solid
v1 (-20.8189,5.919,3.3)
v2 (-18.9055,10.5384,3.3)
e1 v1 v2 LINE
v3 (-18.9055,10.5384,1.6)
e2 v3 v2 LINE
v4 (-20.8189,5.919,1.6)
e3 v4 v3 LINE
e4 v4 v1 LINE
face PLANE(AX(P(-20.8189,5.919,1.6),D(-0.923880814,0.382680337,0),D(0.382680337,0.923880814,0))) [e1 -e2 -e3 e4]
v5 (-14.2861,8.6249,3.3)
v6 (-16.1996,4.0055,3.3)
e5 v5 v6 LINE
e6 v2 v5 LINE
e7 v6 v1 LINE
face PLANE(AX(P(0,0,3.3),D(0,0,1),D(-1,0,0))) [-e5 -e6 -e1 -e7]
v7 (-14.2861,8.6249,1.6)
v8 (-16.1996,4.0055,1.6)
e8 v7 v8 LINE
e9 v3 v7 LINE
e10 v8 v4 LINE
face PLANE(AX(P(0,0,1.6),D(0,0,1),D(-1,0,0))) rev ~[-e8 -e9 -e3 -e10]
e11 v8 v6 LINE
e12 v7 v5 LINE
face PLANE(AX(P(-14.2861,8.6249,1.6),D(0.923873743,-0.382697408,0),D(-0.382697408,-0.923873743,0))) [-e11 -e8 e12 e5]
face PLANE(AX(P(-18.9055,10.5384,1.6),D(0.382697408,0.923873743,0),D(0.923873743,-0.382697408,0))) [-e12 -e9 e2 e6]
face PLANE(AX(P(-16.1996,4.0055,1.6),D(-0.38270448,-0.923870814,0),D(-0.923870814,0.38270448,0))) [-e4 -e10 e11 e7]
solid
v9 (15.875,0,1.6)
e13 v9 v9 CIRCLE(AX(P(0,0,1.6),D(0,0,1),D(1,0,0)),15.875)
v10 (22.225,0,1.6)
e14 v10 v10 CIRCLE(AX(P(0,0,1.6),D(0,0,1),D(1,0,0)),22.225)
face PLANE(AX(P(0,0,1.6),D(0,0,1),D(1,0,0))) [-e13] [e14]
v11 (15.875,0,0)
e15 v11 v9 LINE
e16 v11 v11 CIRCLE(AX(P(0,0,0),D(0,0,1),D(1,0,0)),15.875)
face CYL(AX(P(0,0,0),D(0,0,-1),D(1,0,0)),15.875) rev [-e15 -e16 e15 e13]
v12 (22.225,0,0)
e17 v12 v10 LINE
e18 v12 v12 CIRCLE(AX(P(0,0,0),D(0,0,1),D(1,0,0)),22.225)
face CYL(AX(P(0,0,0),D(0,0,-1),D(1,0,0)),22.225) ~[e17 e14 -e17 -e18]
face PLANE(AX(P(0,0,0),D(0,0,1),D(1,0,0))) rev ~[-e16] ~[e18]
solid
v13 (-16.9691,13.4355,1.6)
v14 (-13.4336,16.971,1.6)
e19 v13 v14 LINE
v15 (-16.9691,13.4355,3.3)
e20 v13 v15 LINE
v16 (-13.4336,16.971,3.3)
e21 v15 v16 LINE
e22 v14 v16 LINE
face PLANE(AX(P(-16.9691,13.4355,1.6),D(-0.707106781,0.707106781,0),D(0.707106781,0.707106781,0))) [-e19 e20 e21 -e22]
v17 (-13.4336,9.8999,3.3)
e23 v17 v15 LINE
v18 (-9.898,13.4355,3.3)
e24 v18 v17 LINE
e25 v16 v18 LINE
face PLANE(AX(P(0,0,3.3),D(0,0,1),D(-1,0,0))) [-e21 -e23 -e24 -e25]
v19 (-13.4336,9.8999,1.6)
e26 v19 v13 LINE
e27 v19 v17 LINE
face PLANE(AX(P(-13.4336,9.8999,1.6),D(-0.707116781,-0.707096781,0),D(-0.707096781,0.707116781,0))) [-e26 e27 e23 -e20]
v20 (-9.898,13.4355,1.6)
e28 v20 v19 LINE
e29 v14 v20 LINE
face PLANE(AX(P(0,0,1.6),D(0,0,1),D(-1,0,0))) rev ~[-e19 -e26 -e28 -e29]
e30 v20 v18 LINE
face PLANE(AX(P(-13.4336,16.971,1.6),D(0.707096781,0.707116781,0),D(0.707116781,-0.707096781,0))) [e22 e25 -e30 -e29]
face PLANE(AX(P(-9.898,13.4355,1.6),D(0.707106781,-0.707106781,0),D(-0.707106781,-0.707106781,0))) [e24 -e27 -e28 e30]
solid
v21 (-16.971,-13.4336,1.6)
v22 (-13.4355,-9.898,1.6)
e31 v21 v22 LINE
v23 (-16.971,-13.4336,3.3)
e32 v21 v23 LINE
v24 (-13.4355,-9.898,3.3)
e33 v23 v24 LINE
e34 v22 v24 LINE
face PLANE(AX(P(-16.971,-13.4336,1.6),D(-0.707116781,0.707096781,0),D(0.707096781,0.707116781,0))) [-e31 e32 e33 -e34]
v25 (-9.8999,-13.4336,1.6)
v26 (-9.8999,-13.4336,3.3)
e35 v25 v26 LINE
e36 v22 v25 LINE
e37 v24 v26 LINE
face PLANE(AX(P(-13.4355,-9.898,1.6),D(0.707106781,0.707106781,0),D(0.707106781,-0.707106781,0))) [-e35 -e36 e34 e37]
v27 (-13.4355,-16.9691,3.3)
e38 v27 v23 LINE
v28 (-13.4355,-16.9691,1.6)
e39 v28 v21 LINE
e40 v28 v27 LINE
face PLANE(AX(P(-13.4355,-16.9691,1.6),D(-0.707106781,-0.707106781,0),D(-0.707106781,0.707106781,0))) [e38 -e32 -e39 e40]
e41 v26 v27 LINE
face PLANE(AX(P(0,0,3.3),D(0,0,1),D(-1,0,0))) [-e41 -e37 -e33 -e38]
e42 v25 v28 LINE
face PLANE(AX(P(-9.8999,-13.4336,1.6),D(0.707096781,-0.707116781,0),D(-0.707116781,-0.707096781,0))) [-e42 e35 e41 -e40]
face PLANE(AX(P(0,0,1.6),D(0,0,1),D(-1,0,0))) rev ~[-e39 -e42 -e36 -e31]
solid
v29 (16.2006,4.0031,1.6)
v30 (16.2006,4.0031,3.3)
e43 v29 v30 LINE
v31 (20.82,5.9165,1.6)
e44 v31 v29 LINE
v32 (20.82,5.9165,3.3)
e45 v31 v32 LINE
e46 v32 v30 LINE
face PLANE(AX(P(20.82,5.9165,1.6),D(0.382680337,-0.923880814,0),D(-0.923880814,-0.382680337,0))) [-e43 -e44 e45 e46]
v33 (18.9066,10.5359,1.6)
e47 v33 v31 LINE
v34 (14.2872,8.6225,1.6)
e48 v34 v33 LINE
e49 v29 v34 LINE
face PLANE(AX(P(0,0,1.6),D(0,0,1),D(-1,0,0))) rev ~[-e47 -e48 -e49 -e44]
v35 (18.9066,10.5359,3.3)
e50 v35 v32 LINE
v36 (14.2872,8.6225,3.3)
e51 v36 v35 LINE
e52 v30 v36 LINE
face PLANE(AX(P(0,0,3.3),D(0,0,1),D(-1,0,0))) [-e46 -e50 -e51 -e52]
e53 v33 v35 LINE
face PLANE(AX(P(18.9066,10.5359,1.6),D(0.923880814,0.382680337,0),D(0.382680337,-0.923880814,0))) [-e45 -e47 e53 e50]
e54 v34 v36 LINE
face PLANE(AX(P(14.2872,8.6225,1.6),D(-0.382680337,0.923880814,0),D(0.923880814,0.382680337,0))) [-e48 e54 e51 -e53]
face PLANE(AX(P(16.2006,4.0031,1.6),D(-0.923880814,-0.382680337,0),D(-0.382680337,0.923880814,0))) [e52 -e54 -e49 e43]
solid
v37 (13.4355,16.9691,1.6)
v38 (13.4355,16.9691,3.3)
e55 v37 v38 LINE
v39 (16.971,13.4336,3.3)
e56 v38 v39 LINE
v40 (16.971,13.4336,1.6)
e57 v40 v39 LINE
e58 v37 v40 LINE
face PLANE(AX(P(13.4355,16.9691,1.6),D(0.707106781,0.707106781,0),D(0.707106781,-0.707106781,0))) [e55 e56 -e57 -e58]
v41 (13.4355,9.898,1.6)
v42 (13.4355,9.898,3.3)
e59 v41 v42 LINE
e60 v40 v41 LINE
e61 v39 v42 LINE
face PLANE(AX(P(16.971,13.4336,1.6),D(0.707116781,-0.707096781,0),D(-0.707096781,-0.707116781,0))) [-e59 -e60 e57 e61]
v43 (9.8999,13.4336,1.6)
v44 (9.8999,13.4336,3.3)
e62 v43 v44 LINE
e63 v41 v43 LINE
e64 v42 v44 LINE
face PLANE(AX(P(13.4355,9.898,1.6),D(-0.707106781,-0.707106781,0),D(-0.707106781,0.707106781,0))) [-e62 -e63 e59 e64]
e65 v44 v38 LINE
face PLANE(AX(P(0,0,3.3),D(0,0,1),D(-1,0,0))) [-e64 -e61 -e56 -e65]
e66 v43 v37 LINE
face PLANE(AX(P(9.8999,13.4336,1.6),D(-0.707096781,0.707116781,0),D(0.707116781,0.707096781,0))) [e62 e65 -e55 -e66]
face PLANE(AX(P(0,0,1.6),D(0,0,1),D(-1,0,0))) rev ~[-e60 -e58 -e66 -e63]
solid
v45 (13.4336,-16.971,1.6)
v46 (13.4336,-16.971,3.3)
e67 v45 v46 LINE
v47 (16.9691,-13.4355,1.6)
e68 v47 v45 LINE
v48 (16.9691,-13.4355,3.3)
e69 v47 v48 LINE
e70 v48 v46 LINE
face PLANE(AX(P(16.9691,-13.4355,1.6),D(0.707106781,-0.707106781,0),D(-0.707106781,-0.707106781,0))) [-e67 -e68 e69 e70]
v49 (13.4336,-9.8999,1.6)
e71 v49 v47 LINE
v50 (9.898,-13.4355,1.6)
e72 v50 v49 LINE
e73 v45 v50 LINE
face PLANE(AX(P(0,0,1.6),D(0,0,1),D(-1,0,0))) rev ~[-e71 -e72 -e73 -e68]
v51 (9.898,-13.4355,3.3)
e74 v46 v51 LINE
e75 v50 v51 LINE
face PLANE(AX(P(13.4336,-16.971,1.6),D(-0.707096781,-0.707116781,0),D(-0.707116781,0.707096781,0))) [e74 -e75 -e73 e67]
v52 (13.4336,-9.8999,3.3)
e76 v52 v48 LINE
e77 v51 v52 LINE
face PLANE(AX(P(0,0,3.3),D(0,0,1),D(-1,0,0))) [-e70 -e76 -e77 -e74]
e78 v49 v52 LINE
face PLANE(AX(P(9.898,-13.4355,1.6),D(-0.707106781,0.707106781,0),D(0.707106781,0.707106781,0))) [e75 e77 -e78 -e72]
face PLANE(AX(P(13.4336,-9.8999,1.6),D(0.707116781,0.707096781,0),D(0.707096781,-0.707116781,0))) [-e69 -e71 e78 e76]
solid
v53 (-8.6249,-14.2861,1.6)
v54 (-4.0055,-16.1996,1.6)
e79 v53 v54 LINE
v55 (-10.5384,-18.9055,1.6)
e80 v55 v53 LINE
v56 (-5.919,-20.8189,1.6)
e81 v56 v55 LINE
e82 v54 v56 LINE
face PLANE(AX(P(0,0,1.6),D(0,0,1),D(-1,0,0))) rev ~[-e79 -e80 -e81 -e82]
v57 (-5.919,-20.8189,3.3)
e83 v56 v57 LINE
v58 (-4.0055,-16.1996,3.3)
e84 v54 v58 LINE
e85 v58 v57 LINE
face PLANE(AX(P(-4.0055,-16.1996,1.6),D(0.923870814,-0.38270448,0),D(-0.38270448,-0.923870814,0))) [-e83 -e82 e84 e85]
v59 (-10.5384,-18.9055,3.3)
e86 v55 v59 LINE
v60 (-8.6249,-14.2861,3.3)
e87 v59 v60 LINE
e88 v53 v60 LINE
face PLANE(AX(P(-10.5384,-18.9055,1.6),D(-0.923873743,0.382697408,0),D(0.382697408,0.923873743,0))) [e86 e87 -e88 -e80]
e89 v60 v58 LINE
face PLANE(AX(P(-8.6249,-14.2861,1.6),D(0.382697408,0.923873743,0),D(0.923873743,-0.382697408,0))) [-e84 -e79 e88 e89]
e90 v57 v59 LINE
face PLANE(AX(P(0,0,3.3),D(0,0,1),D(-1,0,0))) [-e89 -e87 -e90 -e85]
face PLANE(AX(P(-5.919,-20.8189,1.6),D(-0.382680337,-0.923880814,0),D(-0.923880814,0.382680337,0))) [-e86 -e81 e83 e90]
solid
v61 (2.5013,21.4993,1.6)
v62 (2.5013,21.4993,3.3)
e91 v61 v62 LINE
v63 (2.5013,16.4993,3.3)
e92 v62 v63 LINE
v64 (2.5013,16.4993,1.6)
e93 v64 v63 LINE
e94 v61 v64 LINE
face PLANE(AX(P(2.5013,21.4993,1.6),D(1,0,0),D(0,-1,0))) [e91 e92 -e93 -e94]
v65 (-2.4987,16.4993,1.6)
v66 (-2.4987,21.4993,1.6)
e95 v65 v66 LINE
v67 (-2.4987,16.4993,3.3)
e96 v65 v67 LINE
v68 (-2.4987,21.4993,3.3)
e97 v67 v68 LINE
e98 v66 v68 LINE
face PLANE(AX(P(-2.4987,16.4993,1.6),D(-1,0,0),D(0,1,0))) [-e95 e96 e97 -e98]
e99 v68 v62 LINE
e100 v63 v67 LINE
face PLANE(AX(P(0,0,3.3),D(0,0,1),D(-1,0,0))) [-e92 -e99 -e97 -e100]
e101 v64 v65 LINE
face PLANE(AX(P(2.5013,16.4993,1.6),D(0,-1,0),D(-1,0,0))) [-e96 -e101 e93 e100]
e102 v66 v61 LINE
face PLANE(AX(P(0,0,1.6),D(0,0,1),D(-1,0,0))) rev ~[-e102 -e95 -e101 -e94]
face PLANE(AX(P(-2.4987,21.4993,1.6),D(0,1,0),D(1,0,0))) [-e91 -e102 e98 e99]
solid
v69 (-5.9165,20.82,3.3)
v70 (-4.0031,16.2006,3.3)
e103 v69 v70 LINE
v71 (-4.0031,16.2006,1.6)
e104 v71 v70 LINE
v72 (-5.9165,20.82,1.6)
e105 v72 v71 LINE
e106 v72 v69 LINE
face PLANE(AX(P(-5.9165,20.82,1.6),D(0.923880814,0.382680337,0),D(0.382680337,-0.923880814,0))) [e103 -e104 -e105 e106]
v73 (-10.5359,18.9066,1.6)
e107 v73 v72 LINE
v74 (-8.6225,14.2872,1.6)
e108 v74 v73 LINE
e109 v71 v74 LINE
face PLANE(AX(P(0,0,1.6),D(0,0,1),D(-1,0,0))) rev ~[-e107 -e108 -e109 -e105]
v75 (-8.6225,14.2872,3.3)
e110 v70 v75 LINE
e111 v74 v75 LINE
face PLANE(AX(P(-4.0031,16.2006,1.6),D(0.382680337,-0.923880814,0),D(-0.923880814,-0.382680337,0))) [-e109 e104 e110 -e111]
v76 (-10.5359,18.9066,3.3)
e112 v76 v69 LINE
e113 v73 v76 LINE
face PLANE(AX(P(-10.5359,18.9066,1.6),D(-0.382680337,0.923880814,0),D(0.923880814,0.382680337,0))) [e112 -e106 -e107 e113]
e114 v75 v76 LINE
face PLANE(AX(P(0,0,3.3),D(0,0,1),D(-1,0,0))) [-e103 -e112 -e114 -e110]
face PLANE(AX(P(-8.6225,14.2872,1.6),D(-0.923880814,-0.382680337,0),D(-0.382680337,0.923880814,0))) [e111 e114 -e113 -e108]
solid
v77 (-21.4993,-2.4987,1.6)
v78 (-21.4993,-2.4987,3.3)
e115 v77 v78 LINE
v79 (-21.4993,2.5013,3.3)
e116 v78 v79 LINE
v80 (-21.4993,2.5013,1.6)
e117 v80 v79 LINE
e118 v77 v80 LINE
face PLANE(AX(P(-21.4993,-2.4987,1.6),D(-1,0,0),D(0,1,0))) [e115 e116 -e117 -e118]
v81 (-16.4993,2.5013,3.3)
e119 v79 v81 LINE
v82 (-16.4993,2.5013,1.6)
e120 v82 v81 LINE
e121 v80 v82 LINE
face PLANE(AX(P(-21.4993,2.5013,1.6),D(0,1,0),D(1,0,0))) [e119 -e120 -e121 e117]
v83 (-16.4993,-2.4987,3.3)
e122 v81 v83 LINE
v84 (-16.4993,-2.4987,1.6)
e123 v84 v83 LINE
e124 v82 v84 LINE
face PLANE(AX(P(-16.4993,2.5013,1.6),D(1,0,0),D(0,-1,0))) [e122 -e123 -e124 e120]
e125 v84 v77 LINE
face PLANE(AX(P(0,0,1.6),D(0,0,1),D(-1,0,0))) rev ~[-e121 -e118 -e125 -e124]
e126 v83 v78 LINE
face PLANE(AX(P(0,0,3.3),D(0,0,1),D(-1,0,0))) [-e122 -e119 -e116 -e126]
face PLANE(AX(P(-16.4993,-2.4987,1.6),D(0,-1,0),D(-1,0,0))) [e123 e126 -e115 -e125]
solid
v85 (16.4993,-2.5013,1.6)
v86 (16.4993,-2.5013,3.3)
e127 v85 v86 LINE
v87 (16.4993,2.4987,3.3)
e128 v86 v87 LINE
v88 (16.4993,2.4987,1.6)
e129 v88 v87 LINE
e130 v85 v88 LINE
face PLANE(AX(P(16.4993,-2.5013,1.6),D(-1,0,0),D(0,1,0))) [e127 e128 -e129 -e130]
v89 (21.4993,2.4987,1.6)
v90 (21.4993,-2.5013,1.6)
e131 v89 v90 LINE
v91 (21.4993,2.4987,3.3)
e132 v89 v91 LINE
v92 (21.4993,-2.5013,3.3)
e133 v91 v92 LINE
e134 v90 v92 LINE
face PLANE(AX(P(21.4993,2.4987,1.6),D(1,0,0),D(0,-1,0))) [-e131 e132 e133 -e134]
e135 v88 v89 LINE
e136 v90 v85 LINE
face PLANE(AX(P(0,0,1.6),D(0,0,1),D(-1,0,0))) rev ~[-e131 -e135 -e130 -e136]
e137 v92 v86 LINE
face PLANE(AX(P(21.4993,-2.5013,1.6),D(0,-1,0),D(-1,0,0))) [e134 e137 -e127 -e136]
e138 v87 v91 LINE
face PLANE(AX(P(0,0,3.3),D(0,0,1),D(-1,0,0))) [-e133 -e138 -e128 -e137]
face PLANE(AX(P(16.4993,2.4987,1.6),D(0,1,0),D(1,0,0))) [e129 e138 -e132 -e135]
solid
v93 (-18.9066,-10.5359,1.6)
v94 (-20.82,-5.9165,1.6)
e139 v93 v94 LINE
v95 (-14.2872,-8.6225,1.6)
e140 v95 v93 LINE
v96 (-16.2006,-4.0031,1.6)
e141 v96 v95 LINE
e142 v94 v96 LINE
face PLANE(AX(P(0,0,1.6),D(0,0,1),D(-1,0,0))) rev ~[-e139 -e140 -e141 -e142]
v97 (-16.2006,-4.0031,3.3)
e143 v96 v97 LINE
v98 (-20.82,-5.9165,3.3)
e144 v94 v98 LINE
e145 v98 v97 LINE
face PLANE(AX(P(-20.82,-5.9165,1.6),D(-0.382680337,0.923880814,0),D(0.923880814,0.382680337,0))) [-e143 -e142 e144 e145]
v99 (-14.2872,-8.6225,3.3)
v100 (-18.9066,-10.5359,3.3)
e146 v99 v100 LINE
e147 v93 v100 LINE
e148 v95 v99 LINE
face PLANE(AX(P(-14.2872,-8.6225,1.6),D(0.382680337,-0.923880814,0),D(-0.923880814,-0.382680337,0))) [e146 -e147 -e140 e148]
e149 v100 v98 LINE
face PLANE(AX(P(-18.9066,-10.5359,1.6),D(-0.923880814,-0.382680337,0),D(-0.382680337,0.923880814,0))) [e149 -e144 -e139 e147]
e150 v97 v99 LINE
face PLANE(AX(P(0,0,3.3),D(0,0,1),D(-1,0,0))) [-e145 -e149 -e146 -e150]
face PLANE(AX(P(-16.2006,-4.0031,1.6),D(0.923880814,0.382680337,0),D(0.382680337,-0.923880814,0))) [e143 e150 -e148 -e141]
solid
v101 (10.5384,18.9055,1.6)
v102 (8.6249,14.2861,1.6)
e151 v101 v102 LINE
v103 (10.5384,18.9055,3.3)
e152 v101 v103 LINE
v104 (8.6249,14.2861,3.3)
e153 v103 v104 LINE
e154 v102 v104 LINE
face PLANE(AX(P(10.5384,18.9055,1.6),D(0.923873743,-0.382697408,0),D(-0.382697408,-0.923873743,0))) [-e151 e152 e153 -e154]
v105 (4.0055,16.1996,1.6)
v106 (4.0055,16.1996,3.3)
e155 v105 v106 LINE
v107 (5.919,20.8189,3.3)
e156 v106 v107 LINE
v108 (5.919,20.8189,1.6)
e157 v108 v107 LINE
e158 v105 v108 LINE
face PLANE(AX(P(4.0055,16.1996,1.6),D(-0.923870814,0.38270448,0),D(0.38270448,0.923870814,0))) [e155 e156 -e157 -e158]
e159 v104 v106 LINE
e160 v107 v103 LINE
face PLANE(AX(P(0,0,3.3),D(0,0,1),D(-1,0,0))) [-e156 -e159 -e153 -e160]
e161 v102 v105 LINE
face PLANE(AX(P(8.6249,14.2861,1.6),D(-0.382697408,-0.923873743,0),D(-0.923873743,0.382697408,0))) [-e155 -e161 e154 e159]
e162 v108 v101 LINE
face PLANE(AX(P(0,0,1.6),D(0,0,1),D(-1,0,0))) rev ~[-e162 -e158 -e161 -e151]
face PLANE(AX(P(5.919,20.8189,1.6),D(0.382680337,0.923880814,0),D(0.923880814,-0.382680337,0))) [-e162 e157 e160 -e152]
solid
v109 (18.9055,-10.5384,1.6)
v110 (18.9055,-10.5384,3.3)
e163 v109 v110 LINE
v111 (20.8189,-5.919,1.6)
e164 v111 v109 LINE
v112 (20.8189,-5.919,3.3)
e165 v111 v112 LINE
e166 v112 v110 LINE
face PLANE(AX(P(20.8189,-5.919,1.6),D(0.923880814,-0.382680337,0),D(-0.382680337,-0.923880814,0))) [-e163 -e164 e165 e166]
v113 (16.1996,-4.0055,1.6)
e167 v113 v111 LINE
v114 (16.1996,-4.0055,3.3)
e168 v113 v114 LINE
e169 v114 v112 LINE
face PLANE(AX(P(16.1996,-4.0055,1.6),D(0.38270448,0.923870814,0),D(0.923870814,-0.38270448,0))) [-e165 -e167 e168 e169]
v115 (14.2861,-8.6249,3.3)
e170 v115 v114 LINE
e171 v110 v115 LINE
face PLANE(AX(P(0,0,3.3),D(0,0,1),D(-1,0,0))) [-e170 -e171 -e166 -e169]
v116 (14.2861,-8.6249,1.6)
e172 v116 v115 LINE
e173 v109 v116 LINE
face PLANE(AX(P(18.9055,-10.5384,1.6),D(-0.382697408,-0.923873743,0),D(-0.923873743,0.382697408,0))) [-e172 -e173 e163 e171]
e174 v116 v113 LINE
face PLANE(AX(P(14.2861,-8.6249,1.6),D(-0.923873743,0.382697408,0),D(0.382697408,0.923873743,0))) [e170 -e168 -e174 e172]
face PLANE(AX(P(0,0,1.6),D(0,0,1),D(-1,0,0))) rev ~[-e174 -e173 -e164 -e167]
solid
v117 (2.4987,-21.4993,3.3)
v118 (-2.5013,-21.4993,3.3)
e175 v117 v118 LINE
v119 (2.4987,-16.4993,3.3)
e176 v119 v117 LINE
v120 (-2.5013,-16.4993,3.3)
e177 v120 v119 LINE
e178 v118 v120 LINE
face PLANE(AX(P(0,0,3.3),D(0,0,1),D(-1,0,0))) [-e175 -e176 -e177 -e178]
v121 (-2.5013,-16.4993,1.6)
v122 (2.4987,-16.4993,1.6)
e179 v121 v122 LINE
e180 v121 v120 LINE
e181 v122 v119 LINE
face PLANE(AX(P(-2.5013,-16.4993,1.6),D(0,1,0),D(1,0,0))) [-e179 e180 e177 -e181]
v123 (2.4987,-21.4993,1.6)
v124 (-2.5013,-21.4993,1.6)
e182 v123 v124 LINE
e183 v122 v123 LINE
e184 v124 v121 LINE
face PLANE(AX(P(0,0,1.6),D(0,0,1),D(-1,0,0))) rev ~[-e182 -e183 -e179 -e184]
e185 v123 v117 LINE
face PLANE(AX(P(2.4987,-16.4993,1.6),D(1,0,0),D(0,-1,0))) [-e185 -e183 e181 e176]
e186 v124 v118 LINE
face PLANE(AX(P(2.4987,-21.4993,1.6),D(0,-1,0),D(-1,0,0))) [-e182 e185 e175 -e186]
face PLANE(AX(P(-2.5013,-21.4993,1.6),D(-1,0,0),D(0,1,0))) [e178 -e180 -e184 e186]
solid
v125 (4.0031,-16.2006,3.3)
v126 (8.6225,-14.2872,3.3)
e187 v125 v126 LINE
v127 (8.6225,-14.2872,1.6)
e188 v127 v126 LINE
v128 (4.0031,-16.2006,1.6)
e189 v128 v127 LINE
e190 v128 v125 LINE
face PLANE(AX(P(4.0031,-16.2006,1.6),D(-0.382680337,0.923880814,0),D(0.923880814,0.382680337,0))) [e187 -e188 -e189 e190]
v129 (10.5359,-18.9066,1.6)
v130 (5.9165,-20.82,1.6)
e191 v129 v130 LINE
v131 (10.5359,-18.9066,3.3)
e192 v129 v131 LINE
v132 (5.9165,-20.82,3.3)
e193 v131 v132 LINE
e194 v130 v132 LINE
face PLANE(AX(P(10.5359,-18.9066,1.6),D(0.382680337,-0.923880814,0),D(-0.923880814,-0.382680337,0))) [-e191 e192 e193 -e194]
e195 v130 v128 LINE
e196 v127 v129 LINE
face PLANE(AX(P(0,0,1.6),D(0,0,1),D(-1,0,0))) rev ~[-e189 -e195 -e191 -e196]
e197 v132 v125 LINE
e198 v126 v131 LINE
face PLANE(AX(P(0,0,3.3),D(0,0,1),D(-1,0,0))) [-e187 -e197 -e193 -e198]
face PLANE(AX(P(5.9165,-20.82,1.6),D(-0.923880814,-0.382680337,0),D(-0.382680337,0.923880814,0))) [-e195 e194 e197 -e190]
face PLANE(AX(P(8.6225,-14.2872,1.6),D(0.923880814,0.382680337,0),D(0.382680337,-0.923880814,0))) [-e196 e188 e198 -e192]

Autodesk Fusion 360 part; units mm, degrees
sketch "PCB" plane through (0, 0, 0) normal (0, 0, 1) x (1, 0, 0)
  circle A0 centre (0, 0) radius 15.875
  circle A1 centre (0, 0) radius 22.225
  dimension "d1" = 31.75
  dimension "d2" = 44.45
extrude "Extrude1" add sketch "PCB" along normal blind 1.6 makes body 1
sketch "LEDs" plane through (0, 0, 1.6) normal (0, 0, 1) x (-1, 0, 0)
  circle A0 centre (0, 0) radius 15.875
  circle A1 centre (0, 0) radius 22.225
  line L0 (-2.5013, -16.4993) -> (2.4987, -16.4993)
  line L1 (2.4987, -16.4993) -> (2.4987, -21.4993)
  line L2 (2.4987, -21.4993) -> (-2.5013, -21.4993)
  line L3 (-2.5013, -21.4993) -> (-2.5013, -16.4993)
  line L4 (-2.5013, -16.4993) -> (2.4987, -21.4993) construction
  line L5 (2.4987, -16.4993) -> (-2.5013, -21.4993) construction
  line L6 (10.5359, -18.9066) -> (5.9165, -20.82)
  line L7 (8.6225, -14.2872) -> (10.5359, -18.9066)
  line L8 (5.9165, -20.82) -> (4.0031, -16.2006)
  line L9 (4.0031, -16.2006) -> (8.6225, -14.2872)
  line L10 (16.9691, -13.4355) -> (13.4336, -16.971)
  line L11 (13.4336, -9.8999) -> (16.9691, -13.4355)
  line L12 (13.4336, -16.971) -> (9.898, -13.4355)
  line L13 (9.898, -13.4355) -> (13.4336, -9.8999)
  line L14 (20.8189, -5.919) -> (18.9055, -10.5384)
  line L15 (16.1996, -4.0055) -> (20.8189, -5.919)
  line L16 (18.9055, -10.5384) -> (14.2861, -8.6249)
  line L17 (14.2861, -8.6249) -> (16.1996, -4.0055)
  line L18 (21.4993, 2.4987) -> (21.4993, -2.5013)
  line L19 (16.4993, 2.4987) -> (21.4993, 2.4987)
  line L20 (21.4993, -2.5013) -> (16.4993, -2.5013)
  line L21 (16.4993, -2.5013) -> (16.4993, 2.4987)
  line L22 (18.9066, 10.5359) -> (20.82, 5.9165)
  line L23 (14.2872, 8.6225) -> (18.9066, 10.5359)
  line L24 (20.82, 5.9165) -> (16.2006, 4.0031)
  line L25 (16.2006, 4.0031) -> (14.2872, 8.6225)
  line L26 (13.4355, 16.9691) -> (16.971, 13.4336)
  line L27 (9.8999, 13.4336) -> (13.4355, 16.9691)
  line L28 (16.971, 13.4336) -> (13.4355, 9.898)
  line L29 (13.4355, 9.898) -> (9.8999, 13.4336)
  line L30 (5.919, 20.8189) -> (10.5384, 18.9055)
  line L31 (4.0055, 16.1996) -> (5.919, 20.8189)
  line L32 (10.5384, 18.9055) -> (8.6249, 14.2861)
  line L33 (8.6249, 14.2861) -> (4.0055, 16.1996)
  line L34 (-2.4987, 21.4993) -> (2.5013, 21.4993)
  line L35 (-2.4987, 16.4993) -> (-2.4987, 21.4993)
  line L36 (2.5013, 21.4993) -> (2.5013, 16.4993)
  line L37 (2.5013, 16.4993) -> (-2.4987, 16.4993)
  line L38 (-10.5359, 18.9066) -> (-5.9165, 20.82)
  line L39 (-8.6225, 14.2872) -> (-10.5359, 18.9066)
  line L40 (-5.9165, 20.82) -> (-4.0031, 16.2006)
  line L41 (-4.0031, 16.2006) -> (-8.6225, 14.2872)
  line L42 (-16.9691, 13.4355) -> (-13.4336, 16.971)
  line L43 (-13.4336, 9.8999) -> (-16.9691, 13.4355)
  line L44 (-13.4336, 16.971) -> (-9.898, 13.4355)
  line L45 (-9.898, 13.4355) -> (-13.4336, 9.8999)
  line L46 (-20.8189, 5.919) -> (-18.9055, 10.5384)
  line L47 (-16.1996, 4.0055) -> (-20.8189, 5.919)
  line L48 (-18.9055, 10.5384) -> (-14.2861, 8.6249)
  line L49 (-14.2861, 8.6249) -> (-16.1996, 4.0055)
  line L50 (-21.4993, -2.4987) -> (-21.4993, 2.5013)
  line L51 (-16.4993, -2.4987) -> (-21.4993, -2.4987)
  line L52 (-21.4993, 2.5013) -> (-16.4993, 2.5013)
  line L53 (-16.4993, 2.5013) -> (-16.4993, -2.4987)
  line L54 (-18.9066, -10.5359) -> (-20.82, -5.9165)
  line L55 (-14.2872, -8.6225) -> (-18.9066, -10.5359)
  line L56 (-20.82, -5.9165) -> (-16.2006, -4.0031)
  line L57 (-16.2006, -4.0031) -> (-14.2872, -8.6225)
  line L58 (-13.4355, -16.9691) -> (-16.971, -13.4336)
  line L59 (-9.8999, -13.4336) -> (-13.4355, -16.9691)
  line L60 (-16.971, -13.4336) -> (-13.4355, -9.898)
  line L61 (-13.4355, -9.898) -> (-9.8999, -13.4336)
  line L62 (-5.919, -20.8189) -> (-10.5384, -18.9055)
  line L63 (-4.0055, -16.1996) -> (-5.919, -20.8189)
  line L64 (-10.5384, -18.9055) -> (-8.6249, -14.2861)
  line L65 (-8.6249, -14.2861) -> (-4.0055, -16.1996)
  point P0 (-0.0013, -18.9993)
  dimension "d5" = 5
  dimension "d6" = 5
  dimension "d8" = 360
extrude "Extrude2" add sketch "LEDs" along normal blind 1.7 separate body contours L0 L1 L2 L3 | L6 L7 L8 L9 | L10 L11 L12 L13 | L14 L15 L16 L17 | L18 L19 L20 L21 | L22 L23 L24 L25 | L26 L27 L28 L29 | L30 L31 L32 L33 | L34 L35 L36 L37 | L38 L39 L40 L41 | L42 L43 L44 L45 | L46 L47 L48 L49 | L50 L51 L52 L53 | L54 L55 L56 L57 | L58 L59 L60 L61 | L62 L63 L64 L65 makes body 2 at (13.4336, -12.257, 1.6) makes body 3 at (-6.1832, -17.1015, 1.6) makes body 4 at (-16.4648, -7.7205, 1.6) makes body 5 at (-7.7205, 16.4648, 1.6) makes body 6 at (-0.832, 18.166, 1.6) makes body 7 at (6.821, 18.6413, 1.6) makes body 8 at (18.6424, 6.8185, 1.6) makes body 9 at (7.7205, -16.4648, 1.6) makes body 10 at (17.1015, -6.1832, 1.6) makes body 11 at (-12.257, -13.4336, 1.6) makes body 12 at (-18.166, -0.832, 1.6) makes body 13 at (-13.4336, 12.257, 1.6) makes body 14 at (-18.0035, 8.3608, 1.6) makes body 15 at (13.4355, 14.6121, 1.6) makes body 16 at (19.8326, -0.8347, 1.6) makes body 17 at (0.832, -18.166, 1.6)
sketch "mount tester" plane through (0, 0, 0) normal (0, 0, 1) x (1, 0, 0)
  circle A0 centre (0, 0) radius 25.5
  circle A1 centre (0, 0) radius 22.225
  circle A2 centre (0, 0) radius 15.875
  circle A3 centre (0, 0) radius 23.425
  circle A4 centre (0, 0) radius 14.675
  circle A5 centre (0, 0) radius 22.425
  circle A6 centre (0, 0) radius 15.675
  dimension "d11" = 51
  dimension "d12" = 0.2
  dimension "d13" = 0.2
  dimension "d18" = 1
  dimension "d19" = 1
extrude "Extrude3" add sketch "mount tester" against normal blind 1 separate body contours A0 | A1 | A2 | A3 | A5 | A6 makes body 18
extrude "Extrude4" add sketch "mount tester" along normal blind 3.5 contours A3 | A6 bodies 18
chamfer "Chamfer1" distance 1 angle 45 1 edges at (-23.7743, 9.2212, -1) on bodies 18
hidden bodies 18
